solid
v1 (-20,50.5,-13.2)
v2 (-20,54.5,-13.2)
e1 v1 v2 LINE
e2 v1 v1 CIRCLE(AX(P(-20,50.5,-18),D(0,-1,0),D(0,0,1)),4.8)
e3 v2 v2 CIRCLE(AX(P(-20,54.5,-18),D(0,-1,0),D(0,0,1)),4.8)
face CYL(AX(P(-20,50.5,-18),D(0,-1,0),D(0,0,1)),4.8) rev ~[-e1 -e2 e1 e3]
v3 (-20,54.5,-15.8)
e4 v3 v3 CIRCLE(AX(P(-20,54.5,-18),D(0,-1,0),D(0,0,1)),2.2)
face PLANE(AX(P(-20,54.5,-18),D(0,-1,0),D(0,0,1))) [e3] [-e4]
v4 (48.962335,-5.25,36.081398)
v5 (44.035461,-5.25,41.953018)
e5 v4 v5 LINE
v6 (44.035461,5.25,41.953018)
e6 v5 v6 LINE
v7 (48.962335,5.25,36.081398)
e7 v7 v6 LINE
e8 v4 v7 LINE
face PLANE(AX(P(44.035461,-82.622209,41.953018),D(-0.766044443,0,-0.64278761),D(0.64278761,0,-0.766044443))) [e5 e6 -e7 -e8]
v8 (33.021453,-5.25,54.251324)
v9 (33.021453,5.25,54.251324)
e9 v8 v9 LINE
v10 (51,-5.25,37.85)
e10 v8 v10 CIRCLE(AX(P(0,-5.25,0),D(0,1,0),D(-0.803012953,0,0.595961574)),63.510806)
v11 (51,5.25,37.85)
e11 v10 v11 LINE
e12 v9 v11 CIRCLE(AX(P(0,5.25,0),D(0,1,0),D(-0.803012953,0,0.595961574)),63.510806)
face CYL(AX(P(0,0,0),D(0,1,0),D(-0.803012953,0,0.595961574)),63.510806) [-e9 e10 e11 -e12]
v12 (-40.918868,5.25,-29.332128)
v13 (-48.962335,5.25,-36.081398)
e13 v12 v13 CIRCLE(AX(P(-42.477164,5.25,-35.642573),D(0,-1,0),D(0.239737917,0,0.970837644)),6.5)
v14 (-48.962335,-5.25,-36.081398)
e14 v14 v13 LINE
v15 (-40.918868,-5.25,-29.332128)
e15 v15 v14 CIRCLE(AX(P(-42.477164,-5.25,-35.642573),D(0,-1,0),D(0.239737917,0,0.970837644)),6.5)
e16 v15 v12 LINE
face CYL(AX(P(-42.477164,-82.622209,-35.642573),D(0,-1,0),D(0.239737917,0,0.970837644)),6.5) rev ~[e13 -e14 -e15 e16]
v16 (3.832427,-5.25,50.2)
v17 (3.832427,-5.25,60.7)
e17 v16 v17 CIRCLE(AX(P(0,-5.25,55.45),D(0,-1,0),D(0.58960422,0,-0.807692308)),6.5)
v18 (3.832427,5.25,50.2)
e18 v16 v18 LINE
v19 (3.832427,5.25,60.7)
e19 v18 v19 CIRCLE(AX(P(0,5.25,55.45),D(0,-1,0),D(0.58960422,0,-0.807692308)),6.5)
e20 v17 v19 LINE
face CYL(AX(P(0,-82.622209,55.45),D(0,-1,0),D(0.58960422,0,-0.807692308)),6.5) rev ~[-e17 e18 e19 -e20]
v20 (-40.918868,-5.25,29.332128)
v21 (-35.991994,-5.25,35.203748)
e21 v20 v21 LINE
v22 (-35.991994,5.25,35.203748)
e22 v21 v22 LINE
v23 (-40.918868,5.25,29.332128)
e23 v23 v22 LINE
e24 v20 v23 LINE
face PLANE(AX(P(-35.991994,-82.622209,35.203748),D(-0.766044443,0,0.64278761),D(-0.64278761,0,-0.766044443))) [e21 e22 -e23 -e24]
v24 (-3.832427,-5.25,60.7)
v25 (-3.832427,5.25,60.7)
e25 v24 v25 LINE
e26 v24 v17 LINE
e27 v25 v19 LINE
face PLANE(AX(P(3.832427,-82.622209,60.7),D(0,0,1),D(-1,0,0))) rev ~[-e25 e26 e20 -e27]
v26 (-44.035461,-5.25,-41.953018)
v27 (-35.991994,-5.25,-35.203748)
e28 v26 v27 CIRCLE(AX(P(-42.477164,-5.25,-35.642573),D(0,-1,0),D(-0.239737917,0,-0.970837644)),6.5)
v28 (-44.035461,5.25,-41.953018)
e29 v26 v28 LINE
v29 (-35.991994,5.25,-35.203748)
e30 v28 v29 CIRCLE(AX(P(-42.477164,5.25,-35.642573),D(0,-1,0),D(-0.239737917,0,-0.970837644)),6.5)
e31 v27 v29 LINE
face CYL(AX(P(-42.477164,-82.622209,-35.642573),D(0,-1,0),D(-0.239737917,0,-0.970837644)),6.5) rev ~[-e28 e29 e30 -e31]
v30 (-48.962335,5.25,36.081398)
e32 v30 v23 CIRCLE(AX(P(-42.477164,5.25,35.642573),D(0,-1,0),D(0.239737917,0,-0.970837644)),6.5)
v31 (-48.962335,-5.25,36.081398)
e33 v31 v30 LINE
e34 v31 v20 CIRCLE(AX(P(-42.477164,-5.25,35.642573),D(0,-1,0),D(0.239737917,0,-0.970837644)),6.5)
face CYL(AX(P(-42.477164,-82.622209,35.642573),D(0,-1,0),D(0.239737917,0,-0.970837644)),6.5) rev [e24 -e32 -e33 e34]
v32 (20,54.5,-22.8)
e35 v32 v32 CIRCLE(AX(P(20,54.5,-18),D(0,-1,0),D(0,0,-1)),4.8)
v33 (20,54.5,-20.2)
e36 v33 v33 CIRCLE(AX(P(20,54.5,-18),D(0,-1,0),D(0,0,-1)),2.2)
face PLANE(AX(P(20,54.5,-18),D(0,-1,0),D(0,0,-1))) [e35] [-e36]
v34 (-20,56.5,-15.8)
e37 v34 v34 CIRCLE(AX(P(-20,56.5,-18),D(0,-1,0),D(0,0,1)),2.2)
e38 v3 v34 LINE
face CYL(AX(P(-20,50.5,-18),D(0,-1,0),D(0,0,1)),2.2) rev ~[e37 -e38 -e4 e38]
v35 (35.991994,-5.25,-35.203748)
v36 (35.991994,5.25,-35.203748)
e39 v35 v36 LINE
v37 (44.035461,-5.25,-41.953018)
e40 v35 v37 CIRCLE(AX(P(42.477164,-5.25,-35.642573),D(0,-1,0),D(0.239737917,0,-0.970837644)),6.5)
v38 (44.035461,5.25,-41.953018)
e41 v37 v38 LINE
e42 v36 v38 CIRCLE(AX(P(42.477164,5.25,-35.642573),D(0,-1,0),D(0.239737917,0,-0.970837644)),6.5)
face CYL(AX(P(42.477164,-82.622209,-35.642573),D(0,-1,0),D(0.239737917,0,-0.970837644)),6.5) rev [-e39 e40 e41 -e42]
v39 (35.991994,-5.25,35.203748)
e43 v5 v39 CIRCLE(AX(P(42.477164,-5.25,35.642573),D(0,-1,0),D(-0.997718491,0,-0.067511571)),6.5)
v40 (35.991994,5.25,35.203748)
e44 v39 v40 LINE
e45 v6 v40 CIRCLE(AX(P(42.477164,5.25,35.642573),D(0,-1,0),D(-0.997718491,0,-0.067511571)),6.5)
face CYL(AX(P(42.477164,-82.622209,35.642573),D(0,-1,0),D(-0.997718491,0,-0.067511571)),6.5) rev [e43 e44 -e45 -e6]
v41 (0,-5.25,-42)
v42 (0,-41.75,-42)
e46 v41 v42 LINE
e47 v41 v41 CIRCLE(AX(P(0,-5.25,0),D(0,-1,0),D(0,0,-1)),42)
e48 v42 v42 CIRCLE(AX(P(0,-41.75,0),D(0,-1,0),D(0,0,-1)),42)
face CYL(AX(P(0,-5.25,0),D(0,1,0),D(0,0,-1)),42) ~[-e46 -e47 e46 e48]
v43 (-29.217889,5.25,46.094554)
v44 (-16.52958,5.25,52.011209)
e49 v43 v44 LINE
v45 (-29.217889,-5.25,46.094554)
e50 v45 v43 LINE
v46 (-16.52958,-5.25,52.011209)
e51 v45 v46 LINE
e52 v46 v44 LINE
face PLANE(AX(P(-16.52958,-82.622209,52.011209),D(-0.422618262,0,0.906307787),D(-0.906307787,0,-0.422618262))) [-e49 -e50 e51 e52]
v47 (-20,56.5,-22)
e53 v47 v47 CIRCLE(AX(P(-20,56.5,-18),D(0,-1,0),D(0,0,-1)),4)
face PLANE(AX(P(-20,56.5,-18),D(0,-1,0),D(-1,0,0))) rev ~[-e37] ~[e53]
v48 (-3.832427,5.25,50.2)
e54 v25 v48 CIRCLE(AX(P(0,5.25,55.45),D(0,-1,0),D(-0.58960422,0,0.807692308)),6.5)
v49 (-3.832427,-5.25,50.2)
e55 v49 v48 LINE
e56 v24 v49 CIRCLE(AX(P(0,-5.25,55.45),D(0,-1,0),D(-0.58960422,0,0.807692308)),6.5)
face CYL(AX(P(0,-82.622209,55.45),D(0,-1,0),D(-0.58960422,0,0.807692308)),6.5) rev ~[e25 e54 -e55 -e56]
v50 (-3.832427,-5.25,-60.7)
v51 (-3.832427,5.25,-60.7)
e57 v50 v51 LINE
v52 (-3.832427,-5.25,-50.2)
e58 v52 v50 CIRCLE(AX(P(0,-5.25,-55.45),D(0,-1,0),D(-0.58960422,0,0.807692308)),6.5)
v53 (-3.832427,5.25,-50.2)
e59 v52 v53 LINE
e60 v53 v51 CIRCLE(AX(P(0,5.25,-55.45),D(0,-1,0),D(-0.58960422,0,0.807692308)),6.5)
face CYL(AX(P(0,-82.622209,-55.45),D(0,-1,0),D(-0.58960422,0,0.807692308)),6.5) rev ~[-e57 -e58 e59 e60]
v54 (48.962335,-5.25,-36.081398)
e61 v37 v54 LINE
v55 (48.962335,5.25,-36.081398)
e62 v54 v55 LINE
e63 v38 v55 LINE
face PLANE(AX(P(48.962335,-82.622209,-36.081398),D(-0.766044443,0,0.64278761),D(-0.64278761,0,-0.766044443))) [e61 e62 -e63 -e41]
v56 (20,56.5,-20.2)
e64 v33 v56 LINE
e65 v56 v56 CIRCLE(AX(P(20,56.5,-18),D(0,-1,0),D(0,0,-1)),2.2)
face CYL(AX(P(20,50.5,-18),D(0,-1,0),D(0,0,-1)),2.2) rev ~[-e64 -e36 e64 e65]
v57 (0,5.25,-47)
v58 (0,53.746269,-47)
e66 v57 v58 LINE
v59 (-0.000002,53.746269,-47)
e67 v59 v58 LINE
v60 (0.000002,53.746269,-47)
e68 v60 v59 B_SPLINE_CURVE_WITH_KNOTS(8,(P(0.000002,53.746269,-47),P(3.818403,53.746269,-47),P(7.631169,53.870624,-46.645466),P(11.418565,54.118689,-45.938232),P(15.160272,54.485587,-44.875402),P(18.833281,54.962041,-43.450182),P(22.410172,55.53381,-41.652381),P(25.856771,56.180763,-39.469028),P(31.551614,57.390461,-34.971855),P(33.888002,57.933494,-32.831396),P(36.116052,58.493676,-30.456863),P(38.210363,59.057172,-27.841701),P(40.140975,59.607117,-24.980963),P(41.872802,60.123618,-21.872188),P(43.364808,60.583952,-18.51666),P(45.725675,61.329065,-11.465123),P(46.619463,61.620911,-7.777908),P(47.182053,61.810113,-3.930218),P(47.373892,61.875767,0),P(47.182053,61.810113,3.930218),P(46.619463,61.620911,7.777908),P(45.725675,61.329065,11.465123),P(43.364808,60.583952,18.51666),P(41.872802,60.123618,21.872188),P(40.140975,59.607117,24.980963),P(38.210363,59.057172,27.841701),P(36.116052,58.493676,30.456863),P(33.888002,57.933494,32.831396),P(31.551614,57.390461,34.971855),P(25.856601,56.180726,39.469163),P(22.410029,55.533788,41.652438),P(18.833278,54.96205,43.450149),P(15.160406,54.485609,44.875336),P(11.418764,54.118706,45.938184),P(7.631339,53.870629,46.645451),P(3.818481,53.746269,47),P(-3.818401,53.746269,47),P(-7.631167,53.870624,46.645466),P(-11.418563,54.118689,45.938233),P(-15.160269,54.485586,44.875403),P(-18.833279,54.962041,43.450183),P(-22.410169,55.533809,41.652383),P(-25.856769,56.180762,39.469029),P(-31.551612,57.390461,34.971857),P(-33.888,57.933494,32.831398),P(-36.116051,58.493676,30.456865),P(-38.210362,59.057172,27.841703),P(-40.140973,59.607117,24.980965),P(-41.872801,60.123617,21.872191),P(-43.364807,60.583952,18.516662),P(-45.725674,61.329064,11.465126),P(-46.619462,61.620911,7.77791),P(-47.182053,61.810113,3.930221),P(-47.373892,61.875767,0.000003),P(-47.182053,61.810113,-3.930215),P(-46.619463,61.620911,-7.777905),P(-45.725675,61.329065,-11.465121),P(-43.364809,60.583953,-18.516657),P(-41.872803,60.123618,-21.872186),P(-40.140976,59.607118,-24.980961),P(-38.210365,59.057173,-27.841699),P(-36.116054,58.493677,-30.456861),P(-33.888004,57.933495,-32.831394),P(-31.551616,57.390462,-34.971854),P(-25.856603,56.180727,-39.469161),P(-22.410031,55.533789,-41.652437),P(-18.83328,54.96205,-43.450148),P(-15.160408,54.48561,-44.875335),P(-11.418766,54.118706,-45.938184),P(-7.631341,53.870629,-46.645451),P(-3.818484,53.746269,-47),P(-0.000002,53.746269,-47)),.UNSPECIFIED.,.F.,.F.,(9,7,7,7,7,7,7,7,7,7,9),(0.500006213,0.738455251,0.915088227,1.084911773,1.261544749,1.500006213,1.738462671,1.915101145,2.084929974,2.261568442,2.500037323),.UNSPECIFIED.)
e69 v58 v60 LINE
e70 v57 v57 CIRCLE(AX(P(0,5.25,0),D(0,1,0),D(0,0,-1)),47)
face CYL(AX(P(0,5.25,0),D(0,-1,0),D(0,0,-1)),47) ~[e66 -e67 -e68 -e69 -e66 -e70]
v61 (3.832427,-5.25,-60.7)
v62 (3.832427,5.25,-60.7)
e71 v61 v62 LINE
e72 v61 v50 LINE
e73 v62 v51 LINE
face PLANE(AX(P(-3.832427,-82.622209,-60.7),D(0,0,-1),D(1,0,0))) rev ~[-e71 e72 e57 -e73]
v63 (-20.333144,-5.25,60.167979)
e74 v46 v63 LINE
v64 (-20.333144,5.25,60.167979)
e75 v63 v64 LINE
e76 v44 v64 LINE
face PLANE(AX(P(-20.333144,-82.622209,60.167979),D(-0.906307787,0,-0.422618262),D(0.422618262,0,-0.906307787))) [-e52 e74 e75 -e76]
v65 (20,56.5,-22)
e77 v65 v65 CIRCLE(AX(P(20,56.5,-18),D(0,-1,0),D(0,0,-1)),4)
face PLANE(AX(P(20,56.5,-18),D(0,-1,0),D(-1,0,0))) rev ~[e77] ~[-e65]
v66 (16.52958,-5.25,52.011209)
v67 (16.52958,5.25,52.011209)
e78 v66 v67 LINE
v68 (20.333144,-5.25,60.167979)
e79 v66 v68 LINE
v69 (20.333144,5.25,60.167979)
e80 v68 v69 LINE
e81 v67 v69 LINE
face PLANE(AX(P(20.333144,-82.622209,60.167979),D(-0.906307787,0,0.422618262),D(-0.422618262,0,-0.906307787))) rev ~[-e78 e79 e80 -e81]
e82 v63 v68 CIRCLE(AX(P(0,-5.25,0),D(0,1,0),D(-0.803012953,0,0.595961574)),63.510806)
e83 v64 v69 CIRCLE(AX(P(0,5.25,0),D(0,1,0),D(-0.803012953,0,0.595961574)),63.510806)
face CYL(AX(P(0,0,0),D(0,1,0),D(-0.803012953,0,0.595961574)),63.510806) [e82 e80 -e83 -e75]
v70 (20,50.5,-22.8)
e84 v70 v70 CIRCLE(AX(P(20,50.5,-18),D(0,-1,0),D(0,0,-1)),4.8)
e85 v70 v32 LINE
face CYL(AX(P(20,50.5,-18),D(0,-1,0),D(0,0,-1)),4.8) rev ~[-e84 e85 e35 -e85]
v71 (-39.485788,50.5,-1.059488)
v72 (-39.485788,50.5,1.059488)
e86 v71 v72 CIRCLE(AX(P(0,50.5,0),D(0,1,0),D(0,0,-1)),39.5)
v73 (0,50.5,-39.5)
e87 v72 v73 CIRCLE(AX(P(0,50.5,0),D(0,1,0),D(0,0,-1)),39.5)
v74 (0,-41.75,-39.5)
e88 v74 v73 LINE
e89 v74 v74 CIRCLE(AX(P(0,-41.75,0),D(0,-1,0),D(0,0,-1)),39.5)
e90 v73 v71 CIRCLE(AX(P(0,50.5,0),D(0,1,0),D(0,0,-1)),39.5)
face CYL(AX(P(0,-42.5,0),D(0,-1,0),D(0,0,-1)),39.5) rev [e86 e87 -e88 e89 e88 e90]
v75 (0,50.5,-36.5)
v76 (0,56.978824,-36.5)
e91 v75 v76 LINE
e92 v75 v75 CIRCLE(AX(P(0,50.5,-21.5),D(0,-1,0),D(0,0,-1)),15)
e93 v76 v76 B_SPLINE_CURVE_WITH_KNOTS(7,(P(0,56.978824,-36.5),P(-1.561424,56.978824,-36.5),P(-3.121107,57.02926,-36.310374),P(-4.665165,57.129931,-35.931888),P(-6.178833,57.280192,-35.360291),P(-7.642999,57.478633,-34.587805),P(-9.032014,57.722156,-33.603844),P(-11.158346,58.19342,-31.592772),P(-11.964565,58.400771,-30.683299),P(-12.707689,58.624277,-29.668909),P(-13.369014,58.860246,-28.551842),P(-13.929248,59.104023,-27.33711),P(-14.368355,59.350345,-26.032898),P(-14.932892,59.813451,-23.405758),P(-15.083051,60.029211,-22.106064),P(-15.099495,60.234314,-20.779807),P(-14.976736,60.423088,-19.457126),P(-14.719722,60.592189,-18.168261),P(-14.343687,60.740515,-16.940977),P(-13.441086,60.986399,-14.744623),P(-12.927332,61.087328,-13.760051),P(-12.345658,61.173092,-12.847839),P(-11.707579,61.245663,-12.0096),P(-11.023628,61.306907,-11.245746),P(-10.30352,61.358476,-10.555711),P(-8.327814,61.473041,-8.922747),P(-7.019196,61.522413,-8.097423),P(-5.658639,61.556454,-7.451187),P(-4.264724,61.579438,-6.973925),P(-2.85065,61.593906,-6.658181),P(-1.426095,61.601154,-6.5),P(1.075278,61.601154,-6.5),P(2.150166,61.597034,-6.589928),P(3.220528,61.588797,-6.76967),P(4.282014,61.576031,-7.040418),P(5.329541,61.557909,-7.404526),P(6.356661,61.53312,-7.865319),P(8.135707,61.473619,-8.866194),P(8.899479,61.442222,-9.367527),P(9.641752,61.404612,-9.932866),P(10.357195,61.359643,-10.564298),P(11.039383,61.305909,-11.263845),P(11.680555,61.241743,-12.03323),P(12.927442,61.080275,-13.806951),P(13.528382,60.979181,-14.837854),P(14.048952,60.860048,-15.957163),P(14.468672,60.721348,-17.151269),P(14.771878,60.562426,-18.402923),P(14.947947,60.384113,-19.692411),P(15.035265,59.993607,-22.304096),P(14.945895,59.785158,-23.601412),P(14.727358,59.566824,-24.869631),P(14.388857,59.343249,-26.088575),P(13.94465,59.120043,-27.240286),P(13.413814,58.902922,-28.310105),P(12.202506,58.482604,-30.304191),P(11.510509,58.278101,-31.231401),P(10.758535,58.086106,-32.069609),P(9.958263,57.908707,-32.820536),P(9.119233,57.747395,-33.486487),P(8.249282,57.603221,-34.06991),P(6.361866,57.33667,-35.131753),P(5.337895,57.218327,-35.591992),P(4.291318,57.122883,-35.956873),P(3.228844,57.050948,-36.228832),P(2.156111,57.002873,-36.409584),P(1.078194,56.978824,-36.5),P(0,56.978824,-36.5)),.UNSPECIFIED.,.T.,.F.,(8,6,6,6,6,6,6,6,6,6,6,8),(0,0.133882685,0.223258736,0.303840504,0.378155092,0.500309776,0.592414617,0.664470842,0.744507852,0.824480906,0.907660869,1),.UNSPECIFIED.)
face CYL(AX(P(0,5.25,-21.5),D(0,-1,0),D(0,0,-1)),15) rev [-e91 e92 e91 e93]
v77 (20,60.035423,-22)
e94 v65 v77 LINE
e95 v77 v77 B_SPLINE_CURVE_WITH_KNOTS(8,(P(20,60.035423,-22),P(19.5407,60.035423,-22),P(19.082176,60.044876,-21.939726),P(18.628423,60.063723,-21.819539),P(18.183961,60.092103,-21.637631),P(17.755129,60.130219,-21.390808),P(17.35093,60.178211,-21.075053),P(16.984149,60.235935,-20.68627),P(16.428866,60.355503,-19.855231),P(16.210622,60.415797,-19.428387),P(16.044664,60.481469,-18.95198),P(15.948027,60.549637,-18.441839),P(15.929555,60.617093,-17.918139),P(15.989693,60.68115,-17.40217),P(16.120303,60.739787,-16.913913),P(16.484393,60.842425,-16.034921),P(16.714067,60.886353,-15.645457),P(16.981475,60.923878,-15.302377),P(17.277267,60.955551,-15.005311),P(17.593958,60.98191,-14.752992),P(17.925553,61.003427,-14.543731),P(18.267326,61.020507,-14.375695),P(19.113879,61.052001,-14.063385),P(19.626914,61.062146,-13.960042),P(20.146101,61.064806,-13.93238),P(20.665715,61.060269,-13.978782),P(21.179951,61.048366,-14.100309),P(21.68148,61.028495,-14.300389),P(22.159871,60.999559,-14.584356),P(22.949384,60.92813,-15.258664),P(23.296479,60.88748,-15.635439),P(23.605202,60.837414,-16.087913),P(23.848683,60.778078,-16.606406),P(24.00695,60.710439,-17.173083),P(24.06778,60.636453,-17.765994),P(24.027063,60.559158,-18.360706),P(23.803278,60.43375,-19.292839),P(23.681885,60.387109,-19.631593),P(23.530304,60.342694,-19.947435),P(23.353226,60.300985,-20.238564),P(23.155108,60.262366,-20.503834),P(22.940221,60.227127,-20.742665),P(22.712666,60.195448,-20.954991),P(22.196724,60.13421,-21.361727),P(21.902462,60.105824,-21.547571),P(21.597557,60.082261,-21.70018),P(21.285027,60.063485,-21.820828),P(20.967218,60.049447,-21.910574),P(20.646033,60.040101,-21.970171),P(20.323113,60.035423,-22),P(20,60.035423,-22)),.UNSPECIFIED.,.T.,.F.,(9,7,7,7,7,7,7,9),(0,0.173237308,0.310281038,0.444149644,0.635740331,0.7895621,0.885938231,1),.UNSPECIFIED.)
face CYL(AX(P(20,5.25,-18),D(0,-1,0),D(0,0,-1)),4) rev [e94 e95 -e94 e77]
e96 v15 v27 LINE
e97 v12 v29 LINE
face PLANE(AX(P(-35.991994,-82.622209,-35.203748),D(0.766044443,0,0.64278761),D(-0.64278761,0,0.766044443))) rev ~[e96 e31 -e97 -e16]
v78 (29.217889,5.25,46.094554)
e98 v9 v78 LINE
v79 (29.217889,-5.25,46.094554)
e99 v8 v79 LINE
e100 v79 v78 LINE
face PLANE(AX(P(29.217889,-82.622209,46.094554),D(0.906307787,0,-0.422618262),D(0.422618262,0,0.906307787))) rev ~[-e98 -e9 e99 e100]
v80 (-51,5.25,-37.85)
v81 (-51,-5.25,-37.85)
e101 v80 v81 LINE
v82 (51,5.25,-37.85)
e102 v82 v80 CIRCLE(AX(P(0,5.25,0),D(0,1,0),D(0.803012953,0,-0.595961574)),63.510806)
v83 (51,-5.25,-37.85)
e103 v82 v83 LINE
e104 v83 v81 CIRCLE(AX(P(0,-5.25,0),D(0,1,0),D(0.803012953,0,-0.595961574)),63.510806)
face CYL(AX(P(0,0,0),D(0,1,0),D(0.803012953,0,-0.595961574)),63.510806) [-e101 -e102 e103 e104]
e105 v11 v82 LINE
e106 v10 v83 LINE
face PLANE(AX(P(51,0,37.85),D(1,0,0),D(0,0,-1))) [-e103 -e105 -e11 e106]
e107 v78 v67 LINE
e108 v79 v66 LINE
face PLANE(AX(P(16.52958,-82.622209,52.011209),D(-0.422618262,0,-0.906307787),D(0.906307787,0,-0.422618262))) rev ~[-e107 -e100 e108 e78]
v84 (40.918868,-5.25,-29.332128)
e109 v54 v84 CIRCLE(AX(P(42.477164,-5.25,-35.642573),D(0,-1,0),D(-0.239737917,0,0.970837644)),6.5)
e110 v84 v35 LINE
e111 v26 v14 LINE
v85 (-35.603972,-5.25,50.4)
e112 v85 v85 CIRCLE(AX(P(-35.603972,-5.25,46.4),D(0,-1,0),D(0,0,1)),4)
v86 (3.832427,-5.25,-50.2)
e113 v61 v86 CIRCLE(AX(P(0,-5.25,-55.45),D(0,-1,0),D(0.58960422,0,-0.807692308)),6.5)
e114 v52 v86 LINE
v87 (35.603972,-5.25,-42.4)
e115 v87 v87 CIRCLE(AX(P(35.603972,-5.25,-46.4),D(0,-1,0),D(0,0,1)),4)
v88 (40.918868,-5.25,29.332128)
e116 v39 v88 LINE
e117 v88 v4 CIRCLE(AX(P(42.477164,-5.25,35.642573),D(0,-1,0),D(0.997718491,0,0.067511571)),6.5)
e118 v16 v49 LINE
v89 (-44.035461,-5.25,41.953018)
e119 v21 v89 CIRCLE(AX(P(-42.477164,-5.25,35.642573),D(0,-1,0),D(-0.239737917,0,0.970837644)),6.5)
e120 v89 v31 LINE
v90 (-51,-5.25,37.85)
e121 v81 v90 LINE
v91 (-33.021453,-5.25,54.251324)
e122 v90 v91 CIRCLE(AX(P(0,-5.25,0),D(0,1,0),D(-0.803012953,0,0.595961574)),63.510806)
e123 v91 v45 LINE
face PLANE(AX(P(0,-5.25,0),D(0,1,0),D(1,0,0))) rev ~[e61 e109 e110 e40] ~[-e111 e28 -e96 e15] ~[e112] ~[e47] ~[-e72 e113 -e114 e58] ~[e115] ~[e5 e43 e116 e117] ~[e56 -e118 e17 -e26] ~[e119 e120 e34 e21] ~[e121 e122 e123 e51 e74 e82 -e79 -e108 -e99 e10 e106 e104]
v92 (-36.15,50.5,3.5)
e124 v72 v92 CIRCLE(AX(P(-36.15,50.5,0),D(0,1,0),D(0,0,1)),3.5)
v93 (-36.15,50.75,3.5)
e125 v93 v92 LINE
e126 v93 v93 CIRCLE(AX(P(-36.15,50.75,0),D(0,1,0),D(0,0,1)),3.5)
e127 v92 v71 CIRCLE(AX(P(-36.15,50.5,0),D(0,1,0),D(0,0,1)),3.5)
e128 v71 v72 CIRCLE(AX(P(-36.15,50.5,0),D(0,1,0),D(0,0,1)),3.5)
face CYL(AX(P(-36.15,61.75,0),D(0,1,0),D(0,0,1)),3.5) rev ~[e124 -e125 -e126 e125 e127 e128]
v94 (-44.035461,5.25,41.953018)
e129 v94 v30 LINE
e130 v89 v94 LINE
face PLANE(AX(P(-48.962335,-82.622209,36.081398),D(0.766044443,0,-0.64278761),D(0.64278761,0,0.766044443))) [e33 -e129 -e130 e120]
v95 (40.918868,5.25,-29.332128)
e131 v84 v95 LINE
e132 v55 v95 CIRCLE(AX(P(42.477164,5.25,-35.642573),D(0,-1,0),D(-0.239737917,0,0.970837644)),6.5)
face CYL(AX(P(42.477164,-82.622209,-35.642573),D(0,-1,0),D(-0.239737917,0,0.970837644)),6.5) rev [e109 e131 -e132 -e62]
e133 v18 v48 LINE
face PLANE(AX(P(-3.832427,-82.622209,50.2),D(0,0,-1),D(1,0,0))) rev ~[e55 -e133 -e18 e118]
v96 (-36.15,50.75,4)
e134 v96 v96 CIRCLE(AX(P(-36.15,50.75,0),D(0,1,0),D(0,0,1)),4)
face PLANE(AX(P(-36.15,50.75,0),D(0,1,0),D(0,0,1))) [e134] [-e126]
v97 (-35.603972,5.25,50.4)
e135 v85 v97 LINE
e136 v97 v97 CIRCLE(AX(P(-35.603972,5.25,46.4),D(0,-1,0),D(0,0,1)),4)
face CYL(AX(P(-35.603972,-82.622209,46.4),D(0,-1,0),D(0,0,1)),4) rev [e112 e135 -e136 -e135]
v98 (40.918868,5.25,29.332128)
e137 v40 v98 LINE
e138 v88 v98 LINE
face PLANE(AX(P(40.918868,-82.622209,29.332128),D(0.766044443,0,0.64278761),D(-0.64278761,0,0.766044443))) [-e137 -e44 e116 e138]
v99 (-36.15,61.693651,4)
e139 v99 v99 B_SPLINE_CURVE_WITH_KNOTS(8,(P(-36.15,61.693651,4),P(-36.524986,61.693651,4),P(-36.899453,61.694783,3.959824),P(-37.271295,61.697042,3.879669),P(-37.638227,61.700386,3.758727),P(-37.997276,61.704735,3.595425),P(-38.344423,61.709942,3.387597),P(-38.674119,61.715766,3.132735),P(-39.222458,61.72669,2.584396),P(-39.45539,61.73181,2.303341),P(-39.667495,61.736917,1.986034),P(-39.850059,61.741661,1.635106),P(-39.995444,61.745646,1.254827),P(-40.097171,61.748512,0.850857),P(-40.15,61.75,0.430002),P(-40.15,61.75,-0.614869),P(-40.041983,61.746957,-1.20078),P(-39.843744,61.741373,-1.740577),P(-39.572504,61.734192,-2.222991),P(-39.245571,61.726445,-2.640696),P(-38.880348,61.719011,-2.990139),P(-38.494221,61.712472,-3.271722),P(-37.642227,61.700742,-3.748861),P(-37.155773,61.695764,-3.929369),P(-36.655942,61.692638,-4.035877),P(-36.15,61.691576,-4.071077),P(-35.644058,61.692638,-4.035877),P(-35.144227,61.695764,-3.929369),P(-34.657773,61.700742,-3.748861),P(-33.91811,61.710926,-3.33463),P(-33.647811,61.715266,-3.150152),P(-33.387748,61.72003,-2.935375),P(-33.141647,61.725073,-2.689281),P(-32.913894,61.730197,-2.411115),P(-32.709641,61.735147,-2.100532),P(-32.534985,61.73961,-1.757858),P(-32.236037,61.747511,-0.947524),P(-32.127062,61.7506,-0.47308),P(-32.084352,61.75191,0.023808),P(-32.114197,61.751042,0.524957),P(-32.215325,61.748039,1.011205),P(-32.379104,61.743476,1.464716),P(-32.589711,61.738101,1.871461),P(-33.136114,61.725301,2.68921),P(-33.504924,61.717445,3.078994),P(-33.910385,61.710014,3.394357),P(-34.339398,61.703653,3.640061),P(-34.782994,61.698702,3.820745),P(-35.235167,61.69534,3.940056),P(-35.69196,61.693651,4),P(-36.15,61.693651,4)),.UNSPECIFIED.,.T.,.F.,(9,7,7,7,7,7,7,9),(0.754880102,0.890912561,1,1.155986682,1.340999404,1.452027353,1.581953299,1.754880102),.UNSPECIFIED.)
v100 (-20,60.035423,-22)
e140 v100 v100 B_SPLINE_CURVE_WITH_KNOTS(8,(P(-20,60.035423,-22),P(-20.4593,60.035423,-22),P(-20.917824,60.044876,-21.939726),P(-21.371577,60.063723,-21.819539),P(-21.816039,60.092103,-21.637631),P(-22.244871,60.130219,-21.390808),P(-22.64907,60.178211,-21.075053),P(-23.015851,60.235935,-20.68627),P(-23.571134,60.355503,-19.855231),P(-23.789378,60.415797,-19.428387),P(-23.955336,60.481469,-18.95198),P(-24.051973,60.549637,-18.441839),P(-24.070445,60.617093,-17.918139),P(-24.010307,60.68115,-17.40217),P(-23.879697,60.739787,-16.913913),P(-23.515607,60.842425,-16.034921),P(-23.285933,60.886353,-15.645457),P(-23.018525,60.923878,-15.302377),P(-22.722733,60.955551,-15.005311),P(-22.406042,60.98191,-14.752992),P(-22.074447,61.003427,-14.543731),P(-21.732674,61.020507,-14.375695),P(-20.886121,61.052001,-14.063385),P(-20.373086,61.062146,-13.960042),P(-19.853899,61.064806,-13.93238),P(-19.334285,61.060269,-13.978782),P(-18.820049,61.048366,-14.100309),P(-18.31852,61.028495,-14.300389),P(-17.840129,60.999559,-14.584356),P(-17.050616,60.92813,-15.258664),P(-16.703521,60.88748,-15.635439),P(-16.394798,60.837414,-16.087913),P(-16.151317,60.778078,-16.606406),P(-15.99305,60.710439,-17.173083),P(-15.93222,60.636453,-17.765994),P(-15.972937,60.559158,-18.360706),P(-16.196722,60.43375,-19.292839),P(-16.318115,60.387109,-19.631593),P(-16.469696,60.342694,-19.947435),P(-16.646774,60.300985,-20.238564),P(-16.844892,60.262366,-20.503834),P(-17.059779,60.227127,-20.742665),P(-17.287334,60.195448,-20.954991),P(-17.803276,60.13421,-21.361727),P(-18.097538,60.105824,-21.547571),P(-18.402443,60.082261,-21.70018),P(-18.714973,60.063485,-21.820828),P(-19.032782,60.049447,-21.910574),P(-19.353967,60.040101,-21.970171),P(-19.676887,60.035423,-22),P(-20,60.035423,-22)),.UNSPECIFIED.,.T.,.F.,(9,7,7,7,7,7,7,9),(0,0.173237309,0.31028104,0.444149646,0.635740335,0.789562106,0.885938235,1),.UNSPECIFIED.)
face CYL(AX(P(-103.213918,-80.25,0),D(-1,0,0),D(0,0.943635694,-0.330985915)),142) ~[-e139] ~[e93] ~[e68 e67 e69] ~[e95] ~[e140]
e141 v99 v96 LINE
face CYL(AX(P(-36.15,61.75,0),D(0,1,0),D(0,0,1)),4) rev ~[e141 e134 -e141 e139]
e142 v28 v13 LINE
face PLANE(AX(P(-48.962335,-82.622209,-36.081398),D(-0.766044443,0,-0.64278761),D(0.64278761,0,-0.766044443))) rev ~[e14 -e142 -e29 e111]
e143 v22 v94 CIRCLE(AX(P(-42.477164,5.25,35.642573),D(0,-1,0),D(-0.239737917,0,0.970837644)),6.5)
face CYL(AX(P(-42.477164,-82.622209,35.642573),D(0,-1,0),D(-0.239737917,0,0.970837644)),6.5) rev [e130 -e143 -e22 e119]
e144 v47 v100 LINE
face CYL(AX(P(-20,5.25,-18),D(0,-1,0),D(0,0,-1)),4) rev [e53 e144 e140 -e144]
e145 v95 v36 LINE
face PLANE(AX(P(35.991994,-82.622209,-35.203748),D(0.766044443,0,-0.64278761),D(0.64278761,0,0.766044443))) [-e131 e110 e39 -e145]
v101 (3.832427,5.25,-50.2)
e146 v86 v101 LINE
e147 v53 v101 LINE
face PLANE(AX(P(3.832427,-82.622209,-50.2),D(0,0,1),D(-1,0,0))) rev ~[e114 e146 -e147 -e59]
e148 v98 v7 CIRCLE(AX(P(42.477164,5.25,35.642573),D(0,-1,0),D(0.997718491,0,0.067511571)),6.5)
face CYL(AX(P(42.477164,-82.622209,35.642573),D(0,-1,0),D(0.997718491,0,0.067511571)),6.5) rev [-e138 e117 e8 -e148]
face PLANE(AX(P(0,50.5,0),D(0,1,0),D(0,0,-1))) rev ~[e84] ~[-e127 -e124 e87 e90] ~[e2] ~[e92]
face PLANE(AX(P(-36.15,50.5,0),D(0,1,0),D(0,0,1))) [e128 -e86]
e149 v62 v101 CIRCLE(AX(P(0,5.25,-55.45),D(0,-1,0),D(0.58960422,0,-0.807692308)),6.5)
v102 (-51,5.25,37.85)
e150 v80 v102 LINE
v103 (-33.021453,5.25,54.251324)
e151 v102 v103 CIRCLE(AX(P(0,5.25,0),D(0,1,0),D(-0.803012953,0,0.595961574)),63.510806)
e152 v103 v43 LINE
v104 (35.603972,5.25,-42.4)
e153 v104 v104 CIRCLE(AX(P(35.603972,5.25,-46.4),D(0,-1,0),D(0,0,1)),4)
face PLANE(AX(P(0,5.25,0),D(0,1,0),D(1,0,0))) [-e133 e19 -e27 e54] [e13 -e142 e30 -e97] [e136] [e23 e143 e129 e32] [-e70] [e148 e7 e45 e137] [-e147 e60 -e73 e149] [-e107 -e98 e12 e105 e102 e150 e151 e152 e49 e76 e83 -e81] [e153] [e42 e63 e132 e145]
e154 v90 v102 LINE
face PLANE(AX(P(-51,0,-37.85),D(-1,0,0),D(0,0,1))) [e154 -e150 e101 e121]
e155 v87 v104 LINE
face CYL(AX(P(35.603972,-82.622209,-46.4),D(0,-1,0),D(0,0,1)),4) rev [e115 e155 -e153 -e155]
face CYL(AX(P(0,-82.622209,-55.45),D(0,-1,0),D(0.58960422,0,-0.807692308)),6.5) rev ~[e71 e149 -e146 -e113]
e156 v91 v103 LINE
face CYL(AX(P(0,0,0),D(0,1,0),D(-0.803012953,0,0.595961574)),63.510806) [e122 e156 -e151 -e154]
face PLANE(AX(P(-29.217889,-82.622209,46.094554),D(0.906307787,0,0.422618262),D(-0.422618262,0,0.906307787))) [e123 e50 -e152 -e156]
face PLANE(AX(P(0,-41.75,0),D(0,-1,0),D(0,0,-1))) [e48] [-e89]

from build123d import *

# Parameters (mm, degrees)
BOSS_EXTRUDE1_DEPTH     = 5.25
CUT_EXTRUDE1_DEPTH      = 82.622208988
CUT_EXTRUDE1_DEPTH_BACK = 82.622208988
SKETCH2_R               = 4
SKETCH3_R               = 47
BOSS_EXTRUDE2_DEPTH     = 56.5
CUT_EXTRUDE4_DEPTH      = 103.213917839
CUT_EXTRUDE4_DEPTH_BACK = 103.213917839
SKETCH5_R               = 4
SKETCH5_R_2             = 15
CUT_EXTRUDE5_DEPTH      = 56.5
SKETCH6_R               = 42
BOSS_EXTRUDE3_DEPTH     = 36.5
CUT_EXTRUDE6_DEPTH      = 50.5
CUT_EXTRUDE6_DEPTH_BACK = 42.5
SKETCH7_R               = 39.5
SKETCH9_R               = 4.8
BOSS_EXTRUDE4_DEPTH     = 6
SKETCH10_R              = 2.2
CUT_EXTRUDE7_DEPTH      = 124.063743645
SKETCH11_R              = 4.8
CUT_EXTRUDE8_DEPTH      = 4
SKETCH12_R              = 4
CUT_EXTRUDE9_DEPTH      = 11
SKETCH13_R              = 3.5
CUT_EXTRUDE10_DEPTH     = 11.25


with BuildPart() as part:
    # Sketch1 → Boss-Extrude1 (new, symmetric)
    with BuildSketch(Plane(origin=(0, 0, 0), x_dir=(1, 0, 0), z_dir=(0, 1, 0))):
        with BuildLine():
            Line((-51, 37.85), (-51, -37.85))
            ThreePointArc((-51, -37.85), (0, -63.510806167), (51, -37.85))
            Line((51, -37.85), (51, 37.85))
            ThreePointArc((51, 37.85), (0, 63.510806167), (-51, 37.85))
        make_face()
    extrude(amount=BOSS_EXTRUDE1_DEPTH, both=True)

    # Sketch2 → Cut-Extrude1 (cut, two sides: drawn at the far end of the back side and taken through both)
    with BuildSketch(Plane(origin=(0, 0, 0), x_dir=(1, 0, 0), z_dir=(0, 1, 0)).offset(-CUT_EXTRUDE1_DEPTH_BACK)):
        with Locations(Location((35.603972242, 46.4, 0), (0, 0, 270))):
            Circle(SKETCH2_R)
        with Locations(Location((-35.603972242, -46.4, 0), (0, 0, 270))):
            Circle(SKETCH2_R)
        with BuildLine():
            Line((-3.832427429, 60.7), (3.832427429, 60.7))
            ThreePointArc((3.832427429, 60.7), (6.5, 55.45), (3.832427429, 50.2))
            Line((3.832427429, 50.2), (-3.832427429, 50.2))
            ThreePointArc((-3.832427429, 50.2), (-6.5, 55.45), (-3.832427429, 60.7))
        make_face()
        with BuildLine():
            Line((-35.991994178, 35.203747742), (-40.918867911, 29.33212827))
            ThreePointArc((-40.918867911, 29.33212827), (-46.655283834, 30.663284077), (-48.962334564, 36.081398172))
            Line((-48.962334564, 36.081398172), (-44.035460831, 41.953017644))
            ThreePointArc((-44.035460831, 41.953017644), (-38.299044908, 40.621861837), (-35.991994178, 35.203747742))
        make_face()
        with BuildLine():
            Line((48.962334564, 36.081398172), (44.035460831, 41.953017644))
            ThreePointArc((44.035460831, 41.953017644), (38.299044908, 40.621861837), (35.991994178, 35.203747742))
            Line((35.991994178, 35.203747742), (40.918867911, 29.33212827))
            ThreePointArc((40.918867911, 29.33212827), (46.655283834, 30.663284077), (48.962334564, 36.081398172))
        make_face()
        with BuildLine():
            Line((40.918867911, -29.33212827), (35.991994178, -35.203747742))
            ThreePointArc((35.991994178, -35.203747742), (38.299044908, -40.621861837), (44.035460831, -41.953017644))
            Line((44.035460831, -41.953017644), (48.962334564, -36.081398172))
            ThreePointArc((48.962334564, -36.081398172), (46.655283834, -30.663284077), (40.918867911, -29.33212827))
        make_face()
        with BuildLine():
            Line((-3.832427429, -50.2), (3.832427429, -50.2))
            ThreePointArc((3.832427429, -50.2), (6.5, -55.45), (3.832427429, -60.7))
            Line((3.832427429, -60.7), (-3.832427429, -60.7))
            ThreePointArc((-3.832427429, -60.7), (-6.5, -55.45), (-3.832427429, -50.2))
        make_face()
        with BuildLine():
            Line((-35.991994178, -35.203747742), (-40.918867911, -29.33212827))
            ThreePointArc((-40.918867911, -29.33212827), (-46.655283834, -30.663284077), (-48.962334564, -36.081398172))
            Line((-48.962334564, -36.081398172), (-44.035460831, -41.953017644))
            ThreePointArc((-44.035460831, -41.953017644), (-38.299044908, -40.621861837), (-35.991994178, -35.203747742))
        make_face()
        with BuildLine():
            Line((-29.217888815, -46.094553684), (-33.02145317, -54.251323767))
            ThreePointArc((-33.02145317, -54.251323767), (-26.840826504, -57.56033819), (-20.333144152, -60.167979432))
            Line((-20.333144152, -60.167979432), (-16.529579796, -52.011209348))
            Line((-16.529579796, -52.011209348), (-29.217888815, -46.094553684))
        make_face()
        with BuildLine():
            Line((20.333144152, -60.167979432), (16.529579796, -52.011209348))
            Line((16.529579796, -52.011209348), (29.217888815, -46.094553684))
            Line((29.217888815, -46.094553684), (33.02145317, -54.251323767))
            ThreePointArc((33.02145317, -54.251323767), (26.840826504, -57.56033819), (20.333144152, -60.167979432))
        make_face()
    extrude(amount=CUT_EXTRUDE1_DEPTH + CUT_EXTRUDE1_DEPTH_BACK, mode=Mode.SUBTRACT)

    # Sketch3 → Boss-Extrude2 (add)
    with BuildSketch(Plane(origin=(0, 5.25, 0), x_dir=(1, 0, 0), z_dir=(0, 1, 0))):
        with Locations(Location((0, 0, 0), (0, 0, 90))):
            Circle(SKETCH3_R)
    extrude(amount=BOSS_EXTRUDE2_DEPTH)

    # Sketch4 → Cut-Extrude4 (cut, two sides: drawn at the far end of the back side and taken through both)
    with BuildSketch(Plane(origin=(0, 0, 0), x_dir=(0, 0, -1), z_dir=(1, 0, 0)).offset(-CUT_EXTRUDE4_DEPTH_BACK)):
        with BuildLine():
            Line((-47, 53.746268605), (-47, 76.557383468))
            Line((-47, 76.557383468), (47, 76.557383468))
            Line((47, 76.557383468), (47, 53.746268605))
            ThreePointArc((47, 53.746268605), (0, 61.75), (-47, 53.746268605))
        make_face()
    extrude(amount=CUT_EXTRUDE4_DEPTH + CUT_EXTRUDE4_DEPTH_BACK, mode=Mode.SUBTRACT)

    # Sketch5 → Cut-Extrude5 (cut)
    with BuildSketch(Plane(origin=(0, 5.25, 0), x_dir=(1, 0, 0), z_dir=(0, 1, 0))):
        with Locations(Location((20, 18, 0), (0, 0, 90))):
            Circle(SKETCH5_R)
        with Locations(Location((-20, 18, 0), (0, 0, 90))):
            Circle(SKETCH5_R)
        with Locations(Location((0, 21.5, 0), (0, 0, 90))):
            Circle(SKETCH5_R_2)
    extrude(amount=CUT_EXTRUDE5_DEPTH, mode=Mode.SUBTRACT)

    # Sketch6 → Boss-Extrude3 (add)
    with BuildSketch(Plane(origin=(0, -5.25, 0), x_dir=(-1, 0, 0), z_dir=(0, -1, 0))):
        with Locations(Location((0, 0, 0), (0, 0, 90))):
            Circle(SKETCH6_R)
    extrude(amount=BOSS_EXTRUDE3_DEPTH)

    # Sketch7 → Cut-Extrude6 (cut, two sides: drawn at the far end of the back side and taken through both)
    with BuildSketch(Plane(origin=(0, 0, 0), x_dir=(1, 0, 0), z_dir=(0, 1, 0)).offset(-CUT_EXTRUDE6_DEPTH_BACK)):
        with Locations(Location((0, 0, 0), (0, 0, 90))):
            Circle(SKETCH7_R)
    extrude(amount=CUT_EXTRUDE6_DEPTH + CUT_EXTRUDE6_DEPTH_BACK, mode=Mode.SUBTRACT)

    # Sketch9 → Boss-Extrude4 (add)
    with BuildSketch(Plane(origin=(0, 50.5, 0), x_dir=(-1, 0, 0), z_dir=(0, -1, 0))):
        with Locations((-20, 18)):
            Circle(SKETCH9_R)
        with Locations((20, 18)):
            Circle(SKETCH9_R)
    extrude(amount=-BOSS_EXTRUDE4_DEPTH)

    # Sketch10 → Cut-Extrude7 (cut, through all)
    with BuildSketch(Plane(origin=(0, 50.5, 0), x_dir=(-1, 0, 0), z_dir=(0, -1, 0))):
        with Locations(Location((-20, 18, 0), (0, 0, 90))):
            Circle(SKETCH10_R)
        with Locations(Location((20, 18, 0), (0, 0, 270))):
            Circle(SKETCH10_R)
    extrude(amount=-CUT_EXTRUDE7_DEPTH, mode=Mode.SUBTRACT)

    # Sketch11 → Cut-Extrude8 (cut)
    with BuildSketch(Plane(origin=(0, 50.5, 0), x_dir=(-1, 0, 0), z_dir=(0, -1, 0))):
        with Locations(Location((-20, 18, 0), (0, 0, 90))):
            Circle(SKETCH11_R)
        with Locations(Location((20, 18, 0), (0, 0, 270))):
            Circle(SKETCH11_R)
    extrude(amount=-CUT_EXTRUDE8_DEPTH, mode=Mode.SUBTRACT)

    # Sketch12 → Cut-Extrude9 (cut)
    with BuildSketch(Plane(origin=(0, 61.75, 0), x_dir=(1, 0, 0), z_dir=(0, 1, 0))):
        with Locations(Location((-36.15, 0, 0), (0, 0, 270))):
            Circle(SKETCH12_R)
    extrude(amount=-CUT_EXTRUDE9_DEPTH, mode=Mode.SUBTRACT)

    # Sketch13 → Cut-Extrude10 (cut)
    with BuildSketch(Plane(origin=(0, 61.75, 0), x_dir=(1, 0, 0), z_dir=(0, 1, 0))):
        with Locations(Location((-36.15, 0, 0), (0, 0, 270))):
            Circle(SKETCH13_R)
    extrude(amount=-CUT_EXTRUDE10_DEPTH, mode=Mode.SUBTRACT)


solid = part.part
